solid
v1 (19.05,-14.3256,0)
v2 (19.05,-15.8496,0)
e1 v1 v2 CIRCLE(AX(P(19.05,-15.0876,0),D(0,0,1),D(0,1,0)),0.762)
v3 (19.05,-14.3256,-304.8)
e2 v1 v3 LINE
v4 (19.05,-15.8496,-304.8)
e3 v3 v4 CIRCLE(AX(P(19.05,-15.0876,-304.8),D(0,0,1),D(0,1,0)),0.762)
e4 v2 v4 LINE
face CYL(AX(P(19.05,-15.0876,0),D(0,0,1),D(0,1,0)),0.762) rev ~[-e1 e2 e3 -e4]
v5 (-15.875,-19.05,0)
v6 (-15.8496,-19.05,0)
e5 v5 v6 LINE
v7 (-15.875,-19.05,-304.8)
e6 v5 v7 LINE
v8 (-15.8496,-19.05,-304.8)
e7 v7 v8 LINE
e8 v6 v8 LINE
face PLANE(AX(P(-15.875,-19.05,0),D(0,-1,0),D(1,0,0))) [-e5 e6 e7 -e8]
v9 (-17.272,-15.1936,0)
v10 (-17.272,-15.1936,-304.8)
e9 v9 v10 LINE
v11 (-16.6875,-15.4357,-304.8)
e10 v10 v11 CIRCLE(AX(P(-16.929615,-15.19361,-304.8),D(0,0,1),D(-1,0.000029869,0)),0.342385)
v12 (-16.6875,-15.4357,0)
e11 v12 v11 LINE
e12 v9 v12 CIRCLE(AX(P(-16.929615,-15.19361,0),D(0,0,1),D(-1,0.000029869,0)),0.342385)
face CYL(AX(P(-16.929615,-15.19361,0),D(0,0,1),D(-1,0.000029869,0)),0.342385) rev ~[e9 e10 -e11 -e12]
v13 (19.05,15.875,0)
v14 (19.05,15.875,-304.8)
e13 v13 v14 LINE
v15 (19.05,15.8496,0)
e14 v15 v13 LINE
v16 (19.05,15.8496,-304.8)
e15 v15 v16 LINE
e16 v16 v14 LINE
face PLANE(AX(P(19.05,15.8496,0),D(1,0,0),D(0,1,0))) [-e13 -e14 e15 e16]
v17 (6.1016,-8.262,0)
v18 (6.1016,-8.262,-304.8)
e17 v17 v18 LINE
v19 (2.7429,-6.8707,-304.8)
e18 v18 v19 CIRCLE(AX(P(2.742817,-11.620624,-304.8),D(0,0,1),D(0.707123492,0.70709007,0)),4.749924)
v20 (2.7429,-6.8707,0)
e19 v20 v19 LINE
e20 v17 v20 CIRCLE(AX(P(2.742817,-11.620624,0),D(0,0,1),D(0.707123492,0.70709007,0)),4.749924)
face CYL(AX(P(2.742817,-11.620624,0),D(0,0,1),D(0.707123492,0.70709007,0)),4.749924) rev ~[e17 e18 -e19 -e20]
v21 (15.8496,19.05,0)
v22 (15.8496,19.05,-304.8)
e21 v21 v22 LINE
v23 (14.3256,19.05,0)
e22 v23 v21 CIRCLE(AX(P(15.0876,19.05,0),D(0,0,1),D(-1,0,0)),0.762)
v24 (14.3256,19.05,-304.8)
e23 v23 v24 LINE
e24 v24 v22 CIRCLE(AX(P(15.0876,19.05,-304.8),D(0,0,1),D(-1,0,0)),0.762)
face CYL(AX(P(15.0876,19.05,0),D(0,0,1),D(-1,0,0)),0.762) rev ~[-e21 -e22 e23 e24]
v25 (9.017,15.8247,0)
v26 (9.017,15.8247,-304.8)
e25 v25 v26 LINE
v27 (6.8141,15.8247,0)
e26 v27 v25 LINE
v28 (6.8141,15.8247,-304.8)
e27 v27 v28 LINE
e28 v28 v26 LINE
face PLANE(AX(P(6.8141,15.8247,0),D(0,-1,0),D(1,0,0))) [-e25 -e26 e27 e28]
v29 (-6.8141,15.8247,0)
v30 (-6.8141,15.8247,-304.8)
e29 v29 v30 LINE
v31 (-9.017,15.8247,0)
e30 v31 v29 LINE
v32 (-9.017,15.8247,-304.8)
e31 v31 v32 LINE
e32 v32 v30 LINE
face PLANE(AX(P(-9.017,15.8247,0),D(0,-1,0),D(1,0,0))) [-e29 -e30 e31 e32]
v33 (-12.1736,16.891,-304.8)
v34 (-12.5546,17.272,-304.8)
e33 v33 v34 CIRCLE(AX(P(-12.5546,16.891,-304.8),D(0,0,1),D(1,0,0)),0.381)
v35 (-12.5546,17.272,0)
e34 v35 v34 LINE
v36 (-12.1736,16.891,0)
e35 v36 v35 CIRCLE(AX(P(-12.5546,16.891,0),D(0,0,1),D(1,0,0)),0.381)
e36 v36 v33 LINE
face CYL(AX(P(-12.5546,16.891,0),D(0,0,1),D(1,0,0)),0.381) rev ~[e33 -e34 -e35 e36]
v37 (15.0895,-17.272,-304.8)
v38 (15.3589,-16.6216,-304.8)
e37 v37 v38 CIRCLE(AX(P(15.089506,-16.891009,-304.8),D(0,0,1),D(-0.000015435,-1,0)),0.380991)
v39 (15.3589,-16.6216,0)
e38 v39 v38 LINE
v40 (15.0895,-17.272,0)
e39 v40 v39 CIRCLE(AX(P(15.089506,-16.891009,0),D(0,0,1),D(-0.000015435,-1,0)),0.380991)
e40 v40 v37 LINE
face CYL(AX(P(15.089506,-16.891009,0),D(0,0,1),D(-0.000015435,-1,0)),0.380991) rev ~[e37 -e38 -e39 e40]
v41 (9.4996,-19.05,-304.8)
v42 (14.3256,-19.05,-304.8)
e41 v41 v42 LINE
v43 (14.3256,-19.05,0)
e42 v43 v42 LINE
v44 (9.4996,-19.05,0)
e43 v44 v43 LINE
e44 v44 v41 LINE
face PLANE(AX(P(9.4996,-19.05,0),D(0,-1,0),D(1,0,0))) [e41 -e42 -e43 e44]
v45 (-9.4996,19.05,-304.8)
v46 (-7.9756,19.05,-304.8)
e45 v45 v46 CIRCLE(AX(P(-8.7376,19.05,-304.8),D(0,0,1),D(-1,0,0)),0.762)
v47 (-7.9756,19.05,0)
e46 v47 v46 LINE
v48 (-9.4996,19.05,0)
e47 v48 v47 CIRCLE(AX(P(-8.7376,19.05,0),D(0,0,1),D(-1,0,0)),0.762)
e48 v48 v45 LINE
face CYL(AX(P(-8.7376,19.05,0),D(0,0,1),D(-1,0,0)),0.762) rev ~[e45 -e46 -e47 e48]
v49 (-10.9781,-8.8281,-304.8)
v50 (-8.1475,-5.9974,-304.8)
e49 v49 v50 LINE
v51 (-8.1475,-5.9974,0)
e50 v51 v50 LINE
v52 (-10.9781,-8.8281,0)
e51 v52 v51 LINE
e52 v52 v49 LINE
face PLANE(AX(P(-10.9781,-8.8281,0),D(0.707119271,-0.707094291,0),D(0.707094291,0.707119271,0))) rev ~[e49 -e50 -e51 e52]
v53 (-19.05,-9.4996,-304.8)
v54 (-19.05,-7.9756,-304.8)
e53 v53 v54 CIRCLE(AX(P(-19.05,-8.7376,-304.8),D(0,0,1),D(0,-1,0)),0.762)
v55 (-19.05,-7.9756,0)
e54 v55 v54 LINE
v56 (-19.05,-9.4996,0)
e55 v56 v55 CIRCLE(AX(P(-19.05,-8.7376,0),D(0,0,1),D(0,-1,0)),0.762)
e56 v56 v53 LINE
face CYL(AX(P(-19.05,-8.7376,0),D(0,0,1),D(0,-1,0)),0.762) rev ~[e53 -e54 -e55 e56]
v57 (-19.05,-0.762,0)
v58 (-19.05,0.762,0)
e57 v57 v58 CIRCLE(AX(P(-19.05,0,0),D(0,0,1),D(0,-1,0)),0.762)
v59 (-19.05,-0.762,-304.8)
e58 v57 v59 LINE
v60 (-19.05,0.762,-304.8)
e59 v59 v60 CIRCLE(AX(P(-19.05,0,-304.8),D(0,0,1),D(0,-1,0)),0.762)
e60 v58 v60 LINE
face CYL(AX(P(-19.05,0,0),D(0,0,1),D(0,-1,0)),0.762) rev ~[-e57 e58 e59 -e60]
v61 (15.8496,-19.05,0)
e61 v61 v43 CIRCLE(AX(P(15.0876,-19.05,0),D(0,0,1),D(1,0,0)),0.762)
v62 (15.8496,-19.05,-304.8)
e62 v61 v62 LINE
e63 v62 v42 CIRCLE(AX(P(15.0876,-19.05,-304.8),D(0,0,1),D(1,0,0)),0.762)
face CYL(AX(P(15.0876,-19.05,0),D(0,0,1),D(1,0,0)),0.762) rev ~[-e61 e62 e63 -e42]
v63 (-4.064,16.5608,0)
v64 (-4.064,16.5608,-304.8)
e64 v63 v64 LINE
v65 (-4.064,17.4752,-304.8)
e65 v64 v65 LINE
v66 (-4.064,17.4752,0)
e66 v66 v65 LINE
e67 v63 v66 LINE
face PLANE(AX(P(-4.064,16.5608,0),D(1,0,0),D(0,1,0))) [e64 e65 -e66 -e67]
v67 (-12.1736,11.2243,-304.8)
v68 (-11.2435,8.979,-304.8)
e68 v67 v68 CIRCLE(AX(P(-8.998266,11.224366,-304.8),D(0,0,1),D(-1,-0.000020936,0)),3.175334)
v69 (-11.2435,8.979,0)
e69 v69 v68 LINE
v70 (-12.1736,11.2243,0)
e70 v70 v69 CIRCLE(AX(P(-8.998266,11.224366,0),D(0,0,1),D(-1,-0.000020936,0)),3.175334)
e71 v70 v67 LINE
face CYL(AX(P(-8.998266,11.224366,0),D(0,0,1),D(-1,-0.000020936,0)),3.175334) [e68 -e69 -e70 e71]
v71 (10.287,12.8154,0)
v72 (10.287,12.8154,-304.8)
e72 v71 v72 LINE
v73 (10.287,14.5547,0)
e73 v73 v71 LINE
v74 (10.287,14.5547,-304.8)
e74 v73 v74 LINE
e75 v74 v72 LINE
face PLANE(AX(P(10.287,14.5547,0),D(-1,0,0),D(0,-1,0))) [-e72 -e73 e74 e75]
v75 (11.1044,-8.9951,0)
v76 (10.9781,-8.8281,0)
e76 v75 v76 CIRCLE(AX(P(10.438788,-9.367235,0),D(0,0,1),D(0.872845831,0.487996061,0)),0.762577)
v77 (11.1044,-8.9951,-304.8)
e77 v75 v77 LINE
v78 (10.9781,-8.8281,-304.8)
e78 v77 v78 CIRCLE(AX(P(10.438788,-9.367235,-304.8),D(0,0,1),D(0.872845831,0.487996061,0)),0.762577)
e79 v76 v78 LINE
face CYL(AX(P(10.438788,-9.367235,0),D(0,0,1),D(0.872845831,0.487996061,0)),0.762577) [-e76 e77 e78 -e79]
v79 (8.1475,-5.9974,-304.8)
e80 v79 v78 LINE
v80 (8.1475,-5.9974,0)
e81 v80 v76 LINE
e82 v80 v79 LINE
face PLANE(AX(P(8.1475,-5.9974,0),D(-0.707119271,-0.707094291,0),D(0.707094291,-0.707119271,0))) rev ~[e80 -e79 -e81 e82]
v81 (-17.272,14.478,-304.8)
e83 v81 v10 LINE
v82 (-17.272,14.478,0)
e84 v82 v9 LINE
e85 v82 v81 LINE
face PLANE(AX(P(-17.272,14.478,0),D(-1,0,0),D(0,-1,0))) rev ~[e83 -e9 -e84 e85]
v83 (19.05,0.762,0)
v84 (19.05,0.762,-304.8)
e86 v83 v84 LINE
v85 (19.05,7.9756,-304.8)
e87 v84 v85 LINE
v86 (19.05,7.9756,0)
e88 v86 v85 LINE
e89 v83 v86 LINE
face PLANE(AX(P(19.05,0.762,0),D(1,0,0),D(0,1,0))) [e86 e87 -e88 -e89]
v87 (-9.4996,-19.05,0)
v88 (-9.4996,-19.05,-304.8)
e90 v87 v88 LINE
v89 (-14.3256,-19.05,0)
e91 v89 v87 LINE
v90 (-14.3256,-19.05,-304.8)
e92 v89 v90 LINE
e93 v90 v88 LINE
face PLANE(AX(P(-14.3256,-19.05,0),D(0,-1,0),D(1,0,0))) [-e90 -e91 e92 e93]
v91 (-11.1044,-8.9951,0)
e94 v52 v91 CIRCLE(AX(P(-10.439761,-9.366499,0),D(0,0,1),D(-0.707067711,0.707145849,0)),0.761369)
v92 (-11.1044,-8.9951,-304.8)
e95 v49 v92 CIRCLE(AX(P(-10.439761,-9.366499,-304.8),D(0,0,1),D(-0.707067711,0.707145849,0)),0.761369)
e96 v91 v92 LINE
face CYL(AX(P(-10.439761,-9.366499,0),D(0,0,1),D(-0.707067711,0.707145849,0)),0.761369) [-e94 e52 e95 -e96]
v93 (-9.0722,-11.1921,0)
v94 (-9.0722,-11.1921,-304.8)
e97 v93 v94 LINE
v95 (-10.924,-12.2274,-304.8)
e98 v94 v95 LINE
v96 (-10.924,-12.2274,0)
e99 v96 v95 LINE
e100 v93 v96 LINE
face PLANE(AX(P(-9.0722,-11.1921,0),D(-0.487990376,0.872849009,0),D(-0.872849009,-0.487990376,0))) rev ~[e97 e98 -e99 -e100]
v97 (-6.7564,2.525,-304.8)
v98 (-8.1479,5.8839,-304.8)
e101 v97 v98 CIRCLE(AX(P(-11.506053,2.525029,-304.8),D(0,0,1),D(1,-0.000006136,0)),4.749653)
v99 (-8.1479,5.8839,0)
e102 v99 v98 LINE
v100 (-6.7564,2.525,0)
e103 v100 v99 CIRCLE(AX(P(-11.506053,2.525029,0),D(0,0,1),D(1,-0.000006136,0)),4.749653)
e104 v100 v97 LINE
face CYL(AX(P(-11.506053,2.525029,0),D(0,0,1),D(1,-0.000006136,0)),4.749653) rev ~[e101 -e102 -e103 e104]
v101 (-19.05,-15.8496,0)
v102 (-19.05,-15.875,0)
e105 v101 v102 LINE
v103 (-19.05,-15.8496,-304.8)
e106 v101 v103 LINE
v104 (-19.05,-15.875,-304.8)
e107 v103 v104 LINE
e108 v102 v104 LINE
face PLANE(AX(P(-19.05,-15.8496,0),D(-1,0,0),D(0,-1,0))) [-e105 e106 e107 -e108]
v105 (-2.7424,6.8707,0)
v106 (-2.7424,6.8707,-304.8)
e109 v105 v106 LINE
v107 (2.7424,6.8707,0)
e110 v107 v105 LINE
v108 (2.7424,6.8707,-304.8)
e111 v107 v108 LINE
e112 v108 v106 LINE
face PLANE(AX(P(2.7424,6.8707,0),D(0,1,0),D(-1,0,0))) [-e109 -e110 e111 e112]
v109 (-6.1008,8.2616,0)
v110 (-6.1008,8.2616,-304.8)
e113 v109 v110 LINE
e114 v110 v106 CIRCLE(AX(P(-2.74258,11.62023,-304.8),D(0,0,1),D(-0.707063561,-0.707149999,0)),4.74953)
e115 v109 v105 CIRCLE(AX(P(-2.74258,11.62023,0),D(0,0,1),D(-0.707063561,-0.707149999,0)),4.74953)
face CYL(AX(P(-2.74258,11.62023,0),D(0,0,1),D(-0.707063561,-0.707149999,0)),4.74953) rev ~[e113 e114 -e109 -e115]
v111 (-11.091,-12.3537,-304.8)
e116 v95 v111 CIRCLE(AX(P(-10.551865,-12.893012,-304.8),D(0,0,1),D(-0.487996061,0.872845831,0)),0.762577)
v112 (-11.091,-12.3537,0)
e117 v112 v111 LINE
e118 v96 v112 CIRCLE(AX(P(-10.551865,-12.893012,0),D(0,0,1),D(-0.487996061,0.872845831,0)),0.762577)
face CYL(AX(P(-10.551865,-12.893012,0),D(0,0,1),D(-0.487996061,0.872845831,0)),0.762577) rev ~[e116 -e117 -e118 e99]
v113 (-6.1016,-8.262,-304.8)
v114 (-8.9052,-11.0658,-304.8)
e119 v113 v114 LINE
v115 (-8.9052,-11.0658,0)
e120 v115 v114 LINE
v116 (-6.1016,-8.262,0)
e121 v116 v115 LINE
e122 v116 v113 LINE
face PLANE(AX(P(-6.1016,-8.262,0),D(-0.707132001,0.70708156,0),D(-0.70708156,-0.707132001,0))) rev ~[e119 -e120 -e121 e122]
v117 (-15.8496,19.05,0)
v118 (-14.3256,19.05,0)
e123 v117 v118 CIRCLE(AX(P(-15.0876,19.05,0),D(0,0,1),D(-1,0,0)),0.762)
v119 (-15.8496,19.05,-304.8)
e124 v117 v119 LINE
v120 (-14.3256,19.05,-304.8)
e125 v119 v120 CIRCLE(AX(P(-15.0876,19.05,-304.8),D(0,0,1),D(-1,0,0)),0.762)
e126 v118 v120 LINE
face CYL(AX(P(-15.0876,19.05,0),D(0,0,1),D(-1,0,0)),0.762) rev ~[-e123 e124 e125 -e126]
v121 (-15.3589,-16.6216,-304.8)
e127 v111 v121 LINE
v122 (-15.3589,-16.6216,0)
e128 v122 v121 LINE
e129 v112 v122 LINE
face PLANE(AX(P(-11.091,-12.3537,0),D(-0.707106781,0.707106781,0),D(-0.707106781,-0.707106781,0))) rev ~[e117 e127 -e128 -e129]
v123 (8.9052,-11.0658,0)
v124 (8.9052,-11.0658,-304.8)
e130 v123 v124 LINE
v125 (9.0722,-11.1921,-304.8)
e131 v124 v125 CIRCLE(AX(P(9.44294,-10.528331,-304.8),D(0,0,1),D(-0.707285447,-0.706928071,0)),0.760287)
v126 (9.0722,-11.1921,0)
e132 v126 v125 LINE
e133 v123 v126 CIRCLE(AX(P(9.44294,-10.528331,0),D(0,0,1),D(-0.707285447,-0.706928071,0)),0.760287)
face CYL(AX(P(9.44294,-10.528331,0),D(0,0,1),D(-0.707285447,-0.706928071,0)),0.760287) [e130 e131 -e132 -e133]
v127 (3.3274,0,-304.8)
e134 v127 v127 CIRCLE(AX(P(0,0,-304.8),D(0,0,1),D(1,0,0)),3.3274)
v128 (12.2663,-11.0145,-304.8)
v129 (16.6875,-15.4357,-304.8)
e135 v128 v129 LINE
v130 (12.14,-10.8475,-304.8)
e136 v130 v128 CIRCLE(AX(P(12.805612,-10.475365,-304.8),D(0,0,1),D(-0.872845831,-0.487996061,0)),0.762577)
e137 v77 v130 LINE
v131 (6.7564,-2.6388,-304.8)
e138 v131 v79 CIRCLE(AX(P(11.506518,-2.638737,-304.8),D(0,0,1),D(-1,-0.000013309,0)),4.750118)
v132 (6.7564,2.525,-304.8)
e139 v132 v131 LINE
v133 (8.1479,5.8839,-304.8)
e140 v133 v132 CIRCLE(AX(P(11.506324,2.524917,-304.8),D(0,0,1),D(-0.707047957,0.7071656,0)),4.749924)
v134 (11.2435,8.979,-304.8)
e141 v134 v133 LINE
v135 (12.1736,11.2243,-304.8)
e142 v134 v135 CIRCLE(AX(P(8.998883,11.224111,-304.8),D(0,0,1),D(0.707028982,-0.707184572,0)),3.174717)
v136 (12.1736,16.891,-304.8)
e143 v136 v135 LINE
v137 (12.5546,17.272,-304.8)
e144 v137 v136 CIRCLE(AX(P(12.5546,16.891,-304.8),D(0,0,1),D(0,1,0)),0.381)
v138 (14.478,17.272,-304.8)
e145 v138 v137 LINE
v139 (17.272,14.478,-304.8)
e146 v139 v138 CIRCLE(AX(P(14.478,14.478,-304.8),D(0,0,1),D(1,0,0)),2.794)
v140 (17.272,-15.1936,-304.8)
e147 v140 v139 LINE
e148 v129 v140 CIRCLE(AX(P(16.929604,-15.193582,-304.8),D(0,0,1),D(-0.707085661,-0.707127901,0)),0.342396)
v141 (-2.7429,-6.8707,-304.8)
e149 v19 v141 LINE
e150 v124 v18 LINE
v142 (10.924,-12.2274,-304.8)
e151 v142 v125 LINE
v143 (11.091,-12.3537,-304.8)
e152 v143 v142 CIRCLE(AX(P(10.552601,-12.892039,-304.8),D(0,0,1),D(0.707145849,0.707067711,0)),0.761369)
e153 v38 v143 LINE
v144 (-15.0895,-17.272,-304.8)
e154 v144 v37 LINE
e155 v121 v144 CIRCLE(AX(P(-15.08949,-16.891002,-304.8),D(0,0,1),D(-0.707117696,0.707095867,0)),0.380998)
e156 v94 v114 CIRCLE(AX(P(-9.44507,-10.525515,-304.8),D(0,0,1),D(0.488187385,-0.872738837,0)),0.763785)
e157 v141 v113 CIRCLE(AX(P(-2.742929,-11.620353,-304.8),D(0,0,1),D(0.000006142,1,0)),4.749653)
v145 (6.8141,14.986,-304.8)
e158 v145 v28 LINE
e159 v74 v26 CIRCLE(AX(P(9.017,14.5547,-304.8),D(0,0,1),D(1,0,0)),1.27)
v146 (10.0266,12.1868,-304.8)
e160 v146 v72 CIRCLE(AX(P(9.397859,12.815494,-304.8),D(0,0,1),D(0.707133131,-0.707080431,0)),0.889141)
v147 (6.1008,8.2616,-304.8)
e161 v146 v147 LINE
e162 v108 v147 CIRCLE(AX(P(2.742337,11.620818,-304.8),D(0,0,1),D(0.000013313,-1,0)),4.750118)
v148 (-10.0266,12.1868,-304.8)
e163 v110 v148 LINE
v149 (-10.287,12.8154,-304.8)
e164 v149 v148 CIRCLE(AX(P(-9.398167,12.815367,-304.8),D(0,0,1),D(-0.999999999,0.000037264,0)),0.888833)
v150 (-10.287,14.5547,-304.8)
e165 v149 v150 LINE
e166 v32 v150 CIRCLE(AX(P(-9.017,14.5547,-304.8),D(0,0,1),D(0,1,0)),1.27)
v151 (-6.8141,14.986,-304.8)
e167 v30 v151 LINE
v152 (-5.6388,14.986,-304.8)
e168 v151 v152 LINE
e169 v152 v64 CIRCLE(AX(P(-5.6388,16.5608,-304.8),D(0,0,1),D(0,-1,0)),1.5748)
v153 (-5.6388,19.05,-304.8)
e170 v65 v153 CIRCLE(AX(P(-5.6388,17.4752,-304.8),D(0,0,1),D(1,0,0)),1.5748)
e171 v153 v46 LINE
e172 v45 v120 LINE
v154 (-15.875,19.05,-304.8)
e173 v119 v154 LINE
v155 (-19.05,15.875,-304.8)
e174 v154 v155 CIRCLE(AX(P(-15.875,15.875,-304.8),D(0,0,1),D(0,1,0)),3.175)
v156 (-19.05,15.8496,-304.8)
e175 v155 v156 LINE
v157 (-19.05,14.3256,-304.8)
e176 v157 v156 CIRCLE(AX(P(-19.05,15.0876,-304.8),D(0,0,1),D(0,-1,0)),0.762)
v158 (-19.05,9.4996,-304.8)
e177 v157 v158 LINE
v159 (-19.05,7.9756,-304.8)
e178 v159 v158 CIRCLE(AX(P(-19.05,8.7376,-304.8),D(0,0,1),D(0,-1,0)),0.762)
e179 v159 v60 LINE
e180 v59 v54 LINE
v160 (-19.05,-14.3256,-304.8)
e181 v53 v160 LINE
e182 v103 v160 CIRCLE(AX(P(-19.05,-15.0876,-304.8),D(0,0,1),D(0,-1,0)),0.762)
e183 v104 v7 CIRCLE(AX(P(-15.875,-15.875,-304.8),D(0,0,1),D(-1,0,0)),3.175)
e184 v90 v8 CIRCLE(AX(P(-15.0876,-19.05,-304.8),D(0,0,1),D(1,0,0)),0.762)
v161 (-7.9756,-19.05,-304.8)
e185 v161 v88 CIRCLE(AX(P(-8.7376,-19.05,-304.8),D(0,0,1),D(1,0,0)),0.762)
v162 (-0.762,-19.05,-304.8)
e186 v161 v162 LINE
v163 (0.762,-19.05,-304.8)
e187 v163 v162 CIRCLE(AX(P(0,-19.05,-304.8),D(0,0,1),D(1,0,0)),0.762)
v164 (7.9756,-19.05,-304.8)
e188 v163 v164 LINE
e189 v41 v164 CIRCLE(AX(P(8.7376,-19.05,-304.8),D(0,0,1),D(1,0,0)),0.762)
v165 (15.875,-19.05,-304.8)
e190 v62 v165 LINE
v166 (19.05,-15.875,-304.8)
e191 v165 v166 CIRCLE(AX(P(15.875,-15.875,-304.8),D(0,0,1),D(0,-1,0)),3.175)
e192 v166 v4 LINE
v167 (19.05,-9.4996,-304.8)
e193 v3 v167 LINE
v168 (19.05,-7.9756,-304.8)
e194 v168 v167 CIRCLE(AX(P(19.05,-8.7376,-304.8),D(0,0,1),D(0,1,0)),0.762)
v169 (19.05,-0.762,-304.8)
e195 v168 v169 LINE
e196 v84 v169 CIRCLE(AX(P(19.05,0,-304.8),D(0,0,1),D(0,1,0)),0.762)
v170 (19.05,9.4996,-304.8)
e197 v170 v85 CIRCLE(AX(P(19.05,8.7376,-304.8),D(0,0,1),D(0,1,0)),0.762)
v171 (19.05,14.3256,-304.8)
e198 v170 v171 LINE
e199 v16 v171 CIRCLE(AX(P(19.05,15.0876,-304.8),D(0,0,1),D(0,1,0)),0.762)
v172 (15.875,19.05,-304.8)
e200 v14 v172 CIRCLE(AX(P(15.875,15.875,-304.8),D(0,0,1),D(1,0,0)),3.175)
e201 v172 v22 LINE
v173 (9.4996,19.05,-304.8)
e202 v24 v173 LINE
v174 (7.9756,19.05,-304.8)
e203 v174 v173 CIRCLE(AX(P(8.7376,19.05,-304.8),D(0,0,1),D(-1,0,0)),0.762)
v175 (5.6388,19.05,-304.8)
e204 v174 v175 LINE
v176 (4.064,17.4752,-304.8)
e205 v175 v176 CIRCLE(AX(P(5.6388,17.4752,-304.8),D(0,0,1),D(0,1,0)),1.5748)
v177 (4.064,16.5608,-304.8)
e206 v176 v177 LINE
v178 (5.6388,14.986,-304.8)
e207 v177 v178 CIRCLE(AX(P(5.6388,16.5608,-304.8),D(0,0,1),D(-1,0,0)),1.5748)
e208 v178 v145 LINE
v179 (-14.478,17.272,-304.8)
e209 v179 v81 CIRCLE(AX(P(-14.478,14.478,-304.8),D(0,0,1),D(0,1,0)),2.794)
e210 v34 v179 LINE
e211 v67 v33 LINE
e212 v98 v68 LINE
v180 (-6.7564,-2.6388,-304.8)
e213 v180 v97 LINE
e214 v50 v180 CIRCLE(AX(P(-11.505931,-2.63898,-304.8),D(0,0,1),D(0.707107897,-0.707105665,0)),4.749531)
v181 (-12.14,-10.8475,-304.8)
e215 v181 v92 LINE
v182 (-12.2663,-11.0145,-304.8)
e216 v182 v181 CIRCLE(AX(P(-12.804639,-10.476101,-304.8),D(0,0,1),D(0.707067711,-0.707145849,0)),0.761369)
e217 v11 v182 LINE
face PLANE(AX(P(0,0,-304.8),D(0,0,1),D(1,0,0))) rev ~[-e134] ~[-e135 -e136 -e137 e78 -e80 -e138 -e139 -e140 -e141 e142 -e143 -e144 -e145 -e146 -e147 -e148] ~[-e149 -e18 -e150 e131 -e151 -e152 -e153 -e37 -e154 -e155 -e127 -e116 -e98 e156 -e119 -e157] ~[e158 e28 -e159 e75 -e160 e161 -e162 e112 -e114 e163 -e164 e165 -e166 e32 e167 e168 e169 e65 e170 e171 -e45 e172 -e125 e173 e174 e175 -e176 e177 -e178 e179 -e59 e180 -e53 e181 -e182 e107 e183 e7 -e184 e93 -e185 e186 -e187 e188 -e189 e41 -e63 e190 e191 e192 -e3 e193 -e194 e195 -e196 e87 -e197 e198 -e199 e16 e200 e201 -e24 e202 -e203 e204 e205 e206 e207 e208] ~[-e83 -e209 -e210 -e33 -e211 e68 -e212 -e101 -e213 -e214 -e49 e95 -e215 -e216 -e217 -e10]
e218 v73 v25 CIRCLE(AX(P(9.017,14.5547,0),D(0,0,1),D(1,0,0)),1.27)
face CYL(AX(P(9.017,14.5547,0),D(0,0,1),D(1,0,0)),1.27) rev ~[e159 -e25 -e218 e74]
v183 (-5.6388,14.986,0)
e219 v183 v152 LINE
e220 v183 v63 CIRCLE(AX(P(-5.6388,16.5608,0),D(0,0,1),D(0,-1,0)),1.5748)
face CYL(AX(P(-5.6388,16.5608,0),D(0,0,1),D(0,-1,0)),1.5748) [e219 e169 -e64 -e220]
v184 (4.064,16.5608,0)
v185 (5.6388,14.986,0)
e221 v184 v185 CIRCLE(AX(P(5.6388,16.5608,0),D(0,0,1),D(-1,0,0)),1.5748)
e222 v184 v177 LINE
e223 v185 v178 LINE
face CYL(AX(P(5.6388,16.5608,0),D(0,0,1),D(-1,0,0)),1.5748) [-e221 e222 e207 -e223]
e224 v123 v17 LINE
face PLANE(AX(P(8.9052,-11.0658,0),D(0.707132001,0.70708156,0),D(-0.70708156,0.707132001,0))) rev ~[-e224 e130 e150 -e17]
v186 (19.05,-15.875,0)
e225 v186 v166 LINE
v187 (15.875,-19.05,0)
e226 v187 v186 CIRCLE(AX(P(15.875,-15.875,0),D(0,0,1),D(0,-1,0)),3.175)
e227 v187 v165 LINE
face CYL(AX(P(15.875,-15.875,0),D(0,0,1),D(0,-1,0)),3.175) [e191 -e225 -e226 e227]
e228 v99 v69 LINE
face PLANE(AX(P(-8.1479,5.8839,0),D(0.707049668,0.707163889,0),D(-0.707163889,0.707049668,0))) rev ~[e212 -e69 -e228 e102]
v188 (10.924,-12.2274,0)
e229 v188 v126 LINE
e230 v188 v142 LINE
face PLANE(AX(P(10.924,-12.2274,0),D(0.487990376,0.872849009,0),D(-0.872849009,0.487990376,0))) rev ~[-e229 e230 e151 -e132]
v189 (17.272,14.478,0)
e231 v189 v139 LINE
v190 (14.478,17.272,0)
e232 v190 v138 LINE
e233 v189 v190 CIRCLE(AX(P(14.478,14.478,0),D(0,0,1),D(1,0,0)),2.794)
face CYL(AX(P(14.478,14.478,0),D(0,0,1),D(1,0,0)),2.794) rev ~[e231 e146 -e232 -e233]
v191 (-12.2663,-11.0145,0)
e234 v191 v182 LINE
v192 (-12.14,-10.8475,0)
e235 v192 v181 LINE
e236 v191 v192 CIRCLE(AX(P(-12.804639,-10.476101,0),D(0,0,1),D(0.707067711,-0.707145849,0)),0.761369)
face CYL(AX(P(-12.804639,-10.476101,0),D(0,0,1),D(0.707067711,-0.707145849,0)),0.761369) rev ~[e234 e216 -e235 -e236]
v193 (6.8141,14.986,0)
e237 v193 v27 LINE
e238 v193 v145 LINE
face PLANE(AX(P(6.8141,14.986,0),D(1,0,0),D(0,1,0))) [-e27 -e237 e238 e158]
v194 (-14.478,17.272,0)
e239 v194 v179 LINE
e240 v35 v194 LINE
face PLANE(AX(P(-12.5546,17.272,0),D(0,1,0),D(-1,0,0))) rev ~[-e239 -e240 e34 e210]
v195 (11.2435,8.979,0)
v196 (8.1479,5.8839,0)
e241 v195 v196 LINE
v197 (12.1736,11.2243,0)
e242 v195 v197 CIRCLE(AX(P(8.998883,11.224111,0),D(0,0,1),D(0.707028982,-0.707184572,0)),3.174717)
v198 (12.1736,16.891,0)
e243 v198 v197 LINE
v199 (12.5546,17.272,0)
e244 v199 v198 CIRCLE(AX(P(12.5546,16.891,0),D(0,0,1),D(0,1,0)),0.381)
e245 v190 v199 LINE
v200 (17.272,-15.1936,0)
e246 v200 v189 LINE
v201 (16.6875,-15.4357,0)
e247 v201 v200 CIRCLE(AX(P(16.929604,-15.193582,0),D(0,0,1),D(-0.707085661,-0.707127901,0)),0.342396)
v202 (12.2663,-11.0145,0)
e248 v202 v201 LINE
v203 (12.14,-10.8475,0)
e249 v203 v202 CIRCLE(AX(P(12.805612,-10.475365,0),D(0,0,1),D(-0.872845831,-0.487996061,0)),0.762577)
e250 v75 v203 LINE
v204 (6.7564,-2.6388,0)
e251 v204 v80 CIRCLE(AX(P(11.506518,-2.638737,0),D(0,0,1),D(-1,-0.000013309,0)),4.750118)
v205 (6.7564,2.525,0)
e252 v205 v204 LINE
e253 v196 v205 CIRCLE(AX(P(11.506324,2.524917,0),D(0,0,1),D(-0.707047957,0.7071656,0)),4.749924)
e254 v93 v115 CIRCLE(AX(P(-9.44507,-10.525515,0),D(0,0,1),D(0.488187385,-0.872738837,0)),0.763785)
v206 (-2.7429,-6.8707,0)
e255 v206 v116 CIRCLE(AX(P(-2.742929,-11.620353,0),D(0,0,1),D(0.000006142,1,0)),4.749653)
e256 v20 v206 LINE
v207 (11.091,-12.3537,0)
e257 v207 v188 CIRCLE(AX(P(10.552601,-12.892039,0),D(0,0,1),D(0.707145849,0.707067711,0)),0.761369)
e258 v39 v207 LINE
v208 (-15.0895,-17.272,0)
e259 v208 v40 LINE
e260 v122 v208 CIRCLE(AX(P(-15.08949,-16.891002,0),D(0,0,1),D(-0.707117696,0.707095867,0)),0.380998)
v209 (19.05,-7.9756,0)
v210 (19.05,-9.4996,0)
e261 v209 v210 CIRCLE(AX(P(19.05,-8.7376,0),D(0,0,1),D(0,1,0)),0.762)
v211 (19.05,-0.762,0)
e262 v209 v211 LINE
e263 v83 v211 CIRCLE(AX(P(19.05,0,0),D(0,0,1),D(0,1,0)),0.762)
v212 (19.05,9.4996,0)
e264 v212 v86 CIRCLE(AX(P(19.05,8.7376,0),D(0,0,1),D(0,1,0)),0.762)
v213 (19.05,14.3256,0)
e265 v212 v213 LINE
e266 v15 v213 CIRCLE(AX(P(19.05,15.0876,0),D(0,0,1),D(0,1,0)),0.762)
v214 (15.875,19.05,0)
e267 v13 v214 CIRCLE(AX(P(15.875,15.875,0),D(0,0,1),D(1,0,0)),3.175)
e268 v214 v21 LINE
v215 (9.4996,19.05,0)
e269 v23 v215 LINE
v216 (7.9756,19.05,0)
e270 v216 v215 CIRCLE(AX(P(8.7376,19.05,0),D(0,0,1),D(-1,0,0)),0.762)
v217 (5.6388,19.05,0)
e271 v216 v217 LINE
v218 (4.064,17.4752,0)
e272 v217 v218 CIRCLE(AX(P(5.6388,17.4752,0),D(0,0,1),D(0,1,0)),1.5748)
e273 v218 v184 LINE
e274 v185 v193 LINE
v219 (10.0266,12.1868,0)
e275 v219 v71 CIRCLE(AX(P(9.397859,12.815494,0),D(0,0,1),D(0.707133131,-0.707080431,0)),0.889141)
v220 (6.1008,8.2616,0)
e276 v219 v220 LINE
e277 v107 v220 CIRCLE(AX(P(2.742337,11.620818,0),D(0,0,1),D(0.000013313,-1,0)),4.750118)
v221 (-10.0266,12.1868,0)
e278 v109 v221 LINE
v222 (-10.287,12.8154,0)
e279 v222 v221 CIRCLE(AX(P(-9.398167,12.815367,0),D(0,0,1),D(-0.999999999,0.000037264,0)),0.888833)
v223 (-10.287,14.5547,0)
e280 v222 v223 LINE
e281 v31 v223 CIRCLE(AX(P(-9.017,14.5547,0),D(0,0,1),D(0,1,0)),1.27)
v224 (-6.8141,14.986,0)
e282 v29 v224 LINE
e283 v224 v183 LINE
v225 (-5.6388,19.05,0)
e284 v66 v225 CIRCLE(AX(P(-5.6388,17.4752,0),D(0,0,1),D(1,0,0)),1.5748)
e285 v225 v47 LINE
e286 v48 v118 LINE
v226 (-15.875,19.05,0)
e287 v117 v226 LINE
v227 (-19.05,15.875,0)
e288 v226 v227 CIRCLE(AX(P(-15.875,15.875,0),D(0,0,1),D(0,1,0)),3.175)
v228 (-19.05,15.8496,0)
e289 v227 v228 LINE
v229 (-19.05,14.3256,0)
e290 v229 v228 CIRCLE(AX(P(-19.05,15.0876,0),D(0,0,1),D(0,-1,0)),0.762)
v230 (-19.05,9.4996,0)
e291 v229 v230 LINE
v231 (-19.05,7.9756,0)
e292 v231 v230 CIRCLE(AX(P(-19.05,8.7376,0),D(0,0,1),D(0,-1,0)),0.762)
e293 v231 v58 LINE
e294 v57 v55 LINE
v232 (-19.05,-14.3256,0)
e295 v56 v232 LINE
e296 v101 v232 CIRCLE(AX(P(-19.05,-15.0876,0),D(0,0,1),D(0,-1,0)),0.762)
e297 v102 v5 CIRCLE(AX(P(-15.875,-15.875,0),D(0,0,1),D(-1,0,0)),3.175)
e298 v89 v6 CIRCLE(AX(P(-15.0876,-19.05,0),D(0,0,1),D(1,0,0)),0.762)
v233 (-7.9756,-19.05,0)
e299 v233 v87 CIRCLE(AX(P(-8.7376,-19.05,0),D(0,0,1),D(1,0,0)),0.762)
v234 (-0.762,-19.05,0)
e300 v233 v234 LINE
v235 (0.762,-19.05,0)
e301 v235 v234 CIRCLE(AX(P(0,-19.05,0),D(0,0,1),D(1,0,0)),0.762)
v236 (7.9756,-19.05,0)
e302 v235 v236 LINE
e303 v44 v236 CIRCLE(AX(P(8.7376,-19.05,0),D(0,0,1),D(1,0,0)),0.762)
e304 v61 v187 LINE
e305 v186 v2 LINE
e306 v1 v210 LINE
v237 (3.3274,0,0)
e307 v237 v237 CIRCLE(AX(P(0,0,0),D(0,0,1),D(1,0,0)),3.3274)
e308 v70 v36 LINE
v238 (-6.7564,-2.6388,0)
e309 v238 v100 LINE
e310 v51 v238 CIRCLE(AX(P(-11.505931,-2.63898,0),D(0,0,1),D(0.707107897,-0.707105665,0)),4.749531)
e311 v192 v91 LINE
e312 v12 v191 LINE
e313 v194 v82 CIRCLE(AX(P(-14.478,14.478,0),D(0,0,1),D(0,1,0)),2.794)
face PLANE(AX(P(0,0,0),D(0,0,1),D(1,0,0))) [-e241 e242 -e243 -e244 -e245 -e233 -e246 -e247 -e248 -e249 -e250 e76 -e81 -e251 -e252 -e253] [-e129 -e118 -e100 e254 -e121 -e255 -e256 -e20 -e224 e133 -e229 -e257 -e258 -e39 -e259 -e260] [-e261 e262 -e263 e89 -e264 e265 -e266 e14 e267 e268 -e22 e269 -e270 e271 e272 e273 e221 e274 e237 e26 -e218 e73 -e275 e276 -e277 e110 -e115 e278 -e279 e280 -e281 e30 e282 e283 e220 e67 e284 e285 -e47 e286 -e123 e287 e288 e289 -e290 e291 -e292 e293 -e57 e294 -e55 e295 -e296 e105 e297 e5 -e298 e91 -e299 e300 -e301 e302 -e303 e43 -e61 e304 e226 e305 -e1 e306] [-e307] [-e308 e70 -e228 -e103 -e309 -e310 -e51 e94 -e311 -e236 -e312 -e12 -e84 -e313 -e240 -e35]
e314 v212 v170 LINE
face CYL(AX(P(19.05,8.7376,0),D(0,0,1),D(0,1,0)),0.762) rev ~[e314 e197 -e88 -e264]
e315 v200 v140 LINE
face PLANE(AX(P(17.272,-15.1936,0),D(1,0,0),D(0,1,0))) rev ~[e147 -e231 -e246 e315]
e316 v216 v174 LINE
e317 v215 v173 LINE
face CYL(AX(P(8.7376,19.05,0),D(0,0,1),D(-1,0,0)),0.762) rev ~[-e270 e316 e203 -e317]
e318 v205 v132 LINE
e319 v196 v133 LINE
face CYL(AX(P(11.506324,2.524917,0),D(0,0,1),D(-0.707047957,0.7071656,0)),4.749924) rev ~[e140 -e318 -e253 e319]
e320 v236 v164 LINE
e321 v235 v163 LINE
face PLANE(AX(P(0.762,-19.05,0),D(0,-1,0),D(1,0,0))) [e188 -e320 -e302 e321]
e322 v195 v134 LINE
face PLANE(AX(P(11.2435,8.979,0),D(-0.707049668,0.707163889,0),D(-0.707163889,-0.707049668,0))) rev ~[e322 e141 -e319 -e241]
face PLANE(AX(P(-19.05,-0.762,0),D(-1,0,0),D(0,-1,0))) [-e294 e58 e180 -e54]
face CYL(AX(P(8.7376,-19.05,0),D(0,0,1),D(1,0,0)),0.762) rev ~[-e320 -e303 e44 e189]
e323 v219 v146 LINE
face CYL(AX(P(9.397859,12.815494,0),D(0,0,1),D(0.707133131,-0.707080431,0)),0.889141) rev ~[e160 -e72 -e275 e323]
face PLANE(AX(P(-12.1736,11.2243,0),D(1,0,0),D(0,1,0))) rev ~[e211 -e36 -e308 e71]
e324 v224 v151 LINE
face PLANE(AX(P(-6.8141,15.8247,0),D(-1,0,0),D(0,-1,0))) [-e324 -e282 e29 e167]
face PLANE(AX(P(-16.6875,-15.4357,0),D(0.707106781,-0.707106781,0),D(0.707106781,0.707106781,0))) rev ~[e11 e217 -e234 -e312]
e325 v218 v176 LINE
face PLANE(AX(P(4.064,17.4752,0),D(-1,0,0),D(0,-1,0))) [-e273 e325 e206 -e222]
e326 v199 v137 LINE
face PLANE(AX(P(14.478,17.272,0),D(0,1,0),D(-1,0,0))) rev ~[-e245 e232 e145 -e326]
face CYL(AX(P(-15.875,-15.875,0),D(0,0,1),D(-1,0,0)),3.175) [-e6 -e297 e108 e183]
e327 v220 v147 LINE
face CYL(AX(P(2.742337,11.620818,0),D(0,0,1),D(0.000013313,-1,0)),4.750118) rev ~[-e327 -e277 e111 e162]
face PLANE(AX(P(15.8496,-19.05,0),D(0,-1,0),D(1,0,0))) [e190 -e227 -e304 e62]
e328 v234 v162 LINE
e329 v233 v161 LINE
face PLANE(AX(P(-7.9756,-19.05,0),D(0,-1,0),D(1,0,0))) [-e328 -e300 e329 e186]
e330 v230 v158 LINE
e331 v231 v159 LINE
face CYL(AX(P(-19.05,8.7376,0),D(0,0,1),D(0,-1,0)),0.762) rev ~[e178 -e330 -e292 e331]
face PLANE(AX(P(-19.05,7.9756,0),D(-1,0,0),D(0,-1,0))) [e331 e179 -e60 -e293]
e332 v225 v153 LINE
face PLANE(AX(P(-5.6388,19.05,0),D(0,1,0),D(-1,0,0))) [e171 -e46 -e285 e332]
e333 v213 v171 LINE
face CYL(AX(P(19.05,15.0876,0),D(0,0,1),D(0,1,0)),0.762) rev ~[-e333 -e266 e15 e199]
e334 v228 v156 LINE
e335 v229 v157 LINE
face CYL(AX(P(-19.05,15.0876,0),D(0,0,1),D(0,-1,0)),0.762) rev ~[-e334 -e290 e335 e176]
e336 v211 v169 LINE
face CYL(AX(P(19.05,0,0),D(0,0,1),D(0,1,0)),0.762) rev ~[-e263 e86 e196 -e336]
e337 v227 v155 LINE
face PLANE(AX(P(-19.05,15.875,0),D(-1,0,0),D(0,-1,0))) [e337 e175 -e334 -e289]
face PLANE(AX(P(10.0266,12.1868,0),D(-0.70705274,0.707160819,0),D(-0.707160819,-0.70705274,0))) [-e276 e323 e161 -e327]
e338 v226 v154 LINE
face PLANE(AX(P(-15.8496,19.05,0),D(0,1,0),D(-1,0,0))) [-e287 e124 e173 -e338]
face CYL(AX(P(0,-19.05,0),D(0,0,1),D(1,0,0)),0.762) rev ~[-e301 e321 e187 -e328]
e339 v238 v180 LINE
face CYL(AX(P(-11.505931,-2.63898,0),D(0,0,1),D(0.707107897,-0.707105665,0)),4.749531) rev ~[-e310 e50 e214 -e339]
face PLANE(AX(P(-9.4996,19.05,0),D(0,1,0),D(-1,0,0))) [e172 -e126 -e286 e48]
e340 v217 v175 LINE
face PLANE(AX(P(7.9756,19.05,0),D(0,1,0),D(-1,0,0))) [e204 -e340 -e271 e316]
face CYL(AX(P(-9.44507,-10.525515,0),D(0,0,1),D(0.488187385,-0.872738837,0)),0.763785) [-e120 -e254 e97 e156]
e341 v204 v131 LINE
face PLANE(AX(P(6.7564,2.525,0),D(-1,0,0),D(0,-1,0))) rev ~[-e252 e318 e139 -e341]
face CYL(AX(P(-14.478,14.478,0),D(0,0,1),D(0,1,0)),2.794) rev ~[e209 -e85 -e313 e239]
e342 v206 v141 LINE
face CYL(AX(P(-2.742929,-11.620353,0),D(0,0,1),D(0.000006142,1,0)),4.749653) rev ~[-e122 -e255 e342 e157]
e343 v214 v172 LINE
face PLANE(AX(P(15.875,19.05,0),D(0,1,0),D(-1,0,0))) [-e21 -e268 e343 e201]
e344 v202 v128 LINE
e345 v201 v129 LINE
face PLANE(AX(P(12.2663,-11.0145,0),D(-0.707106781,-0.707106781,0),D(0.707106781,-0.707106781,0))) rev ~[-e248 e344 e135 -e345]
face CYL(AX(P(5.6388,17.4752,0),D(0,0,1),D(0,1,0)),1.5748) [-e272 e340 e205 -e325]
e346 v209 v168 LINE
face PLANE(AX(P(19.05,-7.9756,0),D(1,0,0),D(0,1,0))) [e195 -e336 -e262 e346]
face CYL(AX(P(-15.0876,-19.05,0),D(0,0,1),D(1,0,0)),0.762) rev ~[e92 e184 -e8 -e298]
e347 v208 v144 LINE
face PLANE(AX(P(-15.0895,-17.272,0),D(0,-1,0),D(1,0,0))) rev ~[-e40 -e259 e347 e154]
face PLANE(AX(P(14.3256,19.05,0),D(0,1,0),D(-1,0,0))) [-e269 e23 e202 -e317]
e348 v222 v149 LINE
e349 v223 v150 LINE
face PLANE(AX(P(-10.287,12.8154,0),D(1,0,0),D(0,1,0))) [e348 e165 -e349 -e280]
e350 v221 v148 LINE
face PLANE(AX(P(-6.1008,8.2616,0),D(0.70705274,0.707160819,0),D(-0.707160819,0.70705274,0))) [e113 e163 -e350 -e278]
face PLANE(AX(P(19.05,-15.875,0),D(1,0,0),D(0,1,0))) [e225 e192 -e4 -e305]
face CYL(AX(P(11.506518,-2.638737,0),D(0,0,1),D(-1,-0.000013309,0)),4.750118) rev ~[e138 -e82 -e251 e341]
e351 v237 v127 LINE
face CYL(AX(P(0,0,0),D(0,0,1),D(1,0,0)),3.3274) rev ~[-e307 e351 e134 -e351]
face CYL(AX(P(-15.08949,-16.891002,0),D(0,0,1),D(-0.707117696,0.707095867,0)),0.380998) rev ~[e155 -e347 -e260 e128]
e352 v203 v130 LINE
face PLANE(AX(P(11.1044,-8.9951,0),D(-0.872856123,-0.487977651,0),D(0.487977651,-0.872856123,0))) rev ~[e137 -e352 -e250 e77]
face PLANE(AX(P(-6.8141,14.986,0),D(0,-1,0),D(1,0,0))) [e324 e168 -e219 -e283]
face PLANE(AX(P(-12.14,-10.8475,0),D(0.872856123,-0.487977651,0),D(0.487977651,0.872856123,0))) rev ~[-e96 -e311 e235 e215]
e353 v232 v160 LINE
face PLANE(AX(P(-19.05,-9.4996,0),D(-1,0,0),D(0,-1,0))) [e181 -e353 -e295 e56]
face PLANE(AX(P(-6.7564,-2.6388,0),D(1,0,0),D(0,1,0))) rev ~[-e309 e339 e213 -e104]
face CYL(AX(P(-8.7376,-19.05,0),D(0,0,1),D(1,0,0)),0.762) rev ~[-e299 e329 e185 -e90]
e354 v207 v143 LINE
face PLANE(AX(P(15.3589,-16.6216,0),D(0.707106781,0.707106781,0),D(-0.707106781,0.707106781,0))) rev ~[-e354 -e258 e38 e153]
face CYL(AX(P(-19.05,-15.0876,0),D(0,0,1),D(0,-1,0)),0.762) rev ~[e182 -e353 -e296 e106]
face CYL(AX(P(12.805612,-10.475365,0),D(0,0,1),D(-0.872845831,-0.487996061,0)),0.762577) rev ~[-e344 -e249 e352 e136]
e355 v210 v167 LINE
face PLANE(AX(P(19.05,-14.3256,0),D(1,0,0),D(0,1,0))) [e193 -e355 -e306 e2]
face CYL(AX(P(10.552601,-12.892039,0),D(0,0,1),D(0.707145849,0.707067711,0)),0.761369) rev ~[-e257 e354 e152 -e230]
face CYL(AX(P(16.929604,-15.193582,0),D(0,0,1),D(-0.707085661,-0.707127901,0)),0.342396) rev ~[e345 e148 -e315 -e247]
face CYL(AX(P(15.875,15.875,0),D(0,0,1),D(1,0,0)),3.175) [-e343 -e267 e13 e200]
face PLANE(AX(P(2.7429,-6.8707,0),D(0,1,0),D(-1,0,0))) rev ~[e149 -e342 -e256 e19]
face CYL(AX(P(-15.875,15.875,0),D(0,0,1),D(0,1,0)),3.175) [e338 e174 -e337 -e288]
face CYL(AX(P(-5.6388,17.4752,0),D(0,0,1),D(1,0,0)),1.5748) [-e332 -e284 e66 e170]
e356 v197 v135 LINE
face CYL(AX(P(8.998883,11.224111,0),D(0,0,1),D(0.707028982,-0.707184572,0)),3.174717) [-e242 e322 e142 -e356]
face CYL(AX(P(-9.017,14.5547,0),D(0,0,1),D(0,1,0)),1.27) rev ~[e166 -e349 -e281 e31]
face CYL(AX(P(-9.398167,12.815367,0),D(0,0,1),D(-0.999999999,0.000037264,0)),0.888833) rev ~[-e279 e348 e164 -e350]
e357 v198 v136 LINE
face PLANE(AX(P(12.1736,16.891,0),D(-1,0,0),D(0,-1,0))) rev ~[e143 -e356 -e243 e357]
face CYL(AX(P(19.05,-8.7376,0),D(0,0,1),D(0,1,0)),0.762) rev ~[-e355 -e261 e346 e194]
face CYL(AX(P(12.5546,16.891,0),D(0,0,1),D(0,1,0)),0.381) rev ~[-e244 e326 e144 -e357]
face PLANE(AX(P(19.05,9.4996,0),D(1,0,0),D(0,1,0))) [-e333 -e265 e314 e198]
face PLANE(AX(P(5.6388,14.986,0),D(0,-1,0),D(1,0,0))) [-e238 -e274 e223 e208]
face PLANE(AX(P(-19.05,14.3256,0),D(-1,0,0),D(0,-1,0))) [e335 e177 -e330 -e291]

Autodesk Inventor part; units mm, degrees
ref_plane "YZ Plane" through (0, 0, 0) normal (1, 0, 0) x (0, 1, 0)
ref_plane "XZ Plane" through (0, 0, 0) normal (0, 1, 0) x (-1, 0, 0)
ref_plane "XY Plane" through (0, 0, 0) normal (0, 0, 1) x (1, 0, 0)
sketch "Sketch1" plane through (0, 0, 0) normal (0, 0, 1) x (1, 0, 0)
  arc A0 (11.091, -12.3537) -> (10.924, -12.2274) centre (10.5522, -12.8925) ccw
  line L0 (15.3589, -16.6216) -> (11.091, -12.3537)
  arc A1 (15.0895, -17.272) -> (15.3589, -16.6216) centre (15.0895, -16.891) ccw
  line L1 (-15.0895, -17.272) -> (15.0895, -17.272)
  arc A2 (-15.3589, -16.6216) -> (-15.0895, -17.272) centre (-15.0895, -16.891) ccw
  line L2 (-11.091, -12.3537) -> (-15.3589, -16.6216)
  arc A3 (-10.924, -12.2274) -> (-11.091, -12.3537) centre (-10.5522, -12.8925) ccw
  line L3 (-9.0722, -11.1921) -> (-10.924, -12.2274)
  arc A4 (-9.0722, -11.1921) -> (-8.9052, -11.0658) centre (-9.4441, -10.527) ccw
  line L4 (-6.1016, -8.262) -> (-8.9052, -11.0658)
  arc A5 (-2.7429, -6.8707) -> (-6.1016, -8.262) centre (-2.7429, -11.6205) ccw
  line L5 (2.7429, -6.8707) -> (-2.7429, -6.8707)
  arc A6 (6.1016, -8.262) -> (2.7429, -6.8707) centre (2.7429, -11.6205) ccw
  line L6 (8.9052, -11.0658) -> (6.1016, -8.262)
  arc A7 (8.9052, -11.0658) -> (9.0722, -11.1921) centre (9.4441, -10.527) ccw
  line L7 (10.924, -12.2274) -> (9.0722, -11.1921)
  arc A8 (-12.1736, 16.891) -> (-12.5546, 17.272) centre (-12.5546, 16.891) ccw
  line L8 (-12.1736, 11.2243) -> (-12.1736, 16.891)
  arc A9 (-12.1736, 11.2243) -> (-11.2435, 8.979) centre (-8.9986, 11.2243) ccw
  line L9 (-8.1479, 5.8839) -> (-11.2435, 8.979)
  arc A10 (-6.7564, 2.525) -> (-8.1479, 5.8839) centre (-11.5062, 2.525) ccw
  line L10 (-6.7564, -2.6388) -> (-6.7564, 2.525)
  arc A11 (-8.1475, -5.9974) -> (-6.7564, -2.6388) centre (-11.5062, -2.6388) ccw
  line L11 (-10.9781, -8.8281) -> (-8.1475, -5.9974)
  arc A12 (-10.9781, -8.8281) -> (-11.1044, -8.9951) centre (-10.4393, -9.3669) ccw
  line L12 (-12.14, -10.8475) -> (-11.1044, -8.9951)
  arc A13 (-12.2663, -11.0145) -> (-12.14, -10.8475) centre (-12.8051, -10.4757) ccw
  line L13 (-16.6875, -15.4357) -> (-12.2663, -11.0145)
  arc A14 (-17.272, -15.1936) -> (-16.6875, -15.4357) centre (-16.9296, -15.1936) ccw
  line L14 (-17.272, 14.478) -> (-17.272, -15.1936)
  arc A15 (-14.478, 17.272) -> (-17.272, 14.478) centre (-14.478, 14.478) ccw
  line L15 (-12.5546, 17.272) -> (-14.478, 17.272)
  arc A16 (17.272, 14.478) -> (14.478, 17.272) centre (14.478, 14.478) ccw
  line L16 (17.272, -15.1936) -> (17.272, 14.478)
  arc A17 (16.6875, -15.4357) -> (17.272, -15.1936) centre (16.9296, -15.1936) ccw
  line L17 (12.2663, -11.0145) -> (16.6875, -15.4357)
  arc A18 (12.14, -10.8475) -> (12.2663, -11.0145) centre (12.8051, -10.4757) ccw
  line L18 (11.1044, -8.9951) -> (12.14, -10.8475)
  arc A19 (11.1044, -8.9951) -> (10.9781, -8.8281) centre (10.4393, -9.3669) ccw
  line L19 (8.1475, -5.9974) -> (10.9781, -8.8281)
  arc A20 (6.7564, -2.6388) -> (8.1475, -5.9974) centre (11.5062, -2.6388) ccw
  line L20 (6.7564, 2.525) -> (6.7564, -2.6388)
  arc A21 (8.1479, 5.8839) -> (6.7564, 2.525) centre (11.5062, 2.525) ccw
  line L21 (11.2435, 8.979) -> (8.1479, 5.8839)
  arc A22 (11.2435, 8.979) -> (12.1736, 11.2243) centre (8.9986, 11.2243) ccw
  line L22 (12.1736, 16.891) -> (12.1736, 11.2243)
  arc A23 (12.5546, 17.272) -> (12.1736, 16.891) centre (12.5546, 16.891) ccw
  line L23 (14.478, 17.272) -> (12.5546, 17.272)
  circle A24 centre (0, 0) radius 3.3274
  line L24 (6.8141, 14.986) -> (6.8141, 15.8247)
  line L25 (6.8141, 15.8247) -> (9.017, 15.8247)
  arc A25 (10.287, 14.5547) -> (9.017, 15.8247) centre (9.017, 14.5547) ccw
  line L26 (10.287, 14.5547) -> (10.287, 12.8154)
  arc A26 (10.0266, 12.1868) -> (10.287, 12.8154) centre (9.398, 12.8154) ccw
  line L27 (10.0266, 12.1868) -> (6.1008, 8.2616)
  arc A27 (2.7424, 6.8707) -> (6.1008, 8.2616) centre (2.7424, 11.6205) ccw
  line L28 (2.7424, 6.8707) -> (-2.7424, 6.8707)
  arc A28 (-6.1008, 8.2616) -> (-2.7424, 6.8707) centre (-2.7424, 11.6205) ccw
  line L29 (-6.1008, 8.2616) -> (-10.0266, 12.1868)
  arc A29 (-10.287, 12.8154) -> (-10.0266, 12.1868) centre (-9.398, 12.8154) ccw
  line L30 (-10.287, 12.8154) -> (-10.287, 14.5547)
  arc A30 (-9.017, 15.8247) -> (-10.287, 14.5547) centre (-9.017, 14.5547) ccw
  line L31 (-9.017, 15.8247) -> (-6.8141, 15.8247)
  line L32 (-6.8141, 15.8247) -> (-6.8141, 14.986)
  line L33 (-6.8141, 14.986) -> (-5.6388, 14.986)
  arc A31 (-5.6388, 14.986) -> (-4.064, 16.5608) centre (-5.6388, 16.5608) ccw
  line L34 (-4.064, 16.5608) -> (-4.064, 17.4752)
  arc A32 (-4.064, 17.4752) -> (-5.6388, 19.05) centre (-5.6388, 17.4752) ccw
  line L35 (-5.6388, 19.05) -> (-7.9756, 19.05)
  arc A33 (-9.4996, 19.05) -> (-7.9756, 19.05) centre (-8.7376, 19.05) ccw
  line L36 (-9.4996, 19.05) -> (-14.3256, 19.05)
  arc A34 (-15.8496, 19.05) -> (-14.3256, 19.05) centre (-15.0876, 19.05) ccw
  line L37 (-15.8496, 19.05) -> (-15.875, 19.05)
  arc A35 (-15.875, 19.05) -> (-19.05, 15.875) centre (-15.875, 15.875) ccw
  line L38 (-19.05, 15.875) -> (-19.05, 15.8496)
  arc A36 (-19.05, 14.3256) -> (-19.05, 15.8496) centre (-19.05, 15.0876) ccw
  line L39 (-19.05, 14.3256) -> (-19.05, 9.4996)
  arc A37 (-19.05, 7.9756) -> (-19.05, 9.4996) centre (-19.05, 8.7376) ccw
  line L40 (-19.05, 7.9756) -> (-19.05, 0.762)
  arc A38 (-19.05, -0.762) -> (-19.05, 0.762) centre (-19.05, 0) ccw
  line L41 (-19.05, -0.762) -> (-19.05, -7.9756)
  arc A39 (-19.05, -9.4996) -> (-19.05, -7.9756) centre (-19.05, -8.7376) ccw
  line L42 (-19.05, -9.4996) -> (-19.05, -14.3256)
  arc A40 (-19.05, -15.8496) -> (-19.05, -14.3256) centre (-19.05, -15.0876) ccw
  line L43 (-19.05, -15.8496) -> (-19.05, -15.875)
  arc A41 (-19.05, -15.875) -> (-15.875, -19.05) centre (-15.875, -15.875) ccw
  line L44 (-15.875, -19.05) -> (-15.8496, -19.05)
  arc A42 (-14.3256, -19.05) -> (-15.8496, -19.05) centre (-15.0876, -19.05) ccw
  line L45 (-14.3256, -19.05) -> (-9.4996, -19.05)
  arc A43 (-7.9756, -19.05) -> (-9.4996, -19.05) centre (-8.7376, -19.05) ccw
  line L46 (-7.9756, -19.05) -> (-0.762, -19.05)
  arc A44 (0.762, -19.05) -> (-0.762, -19.05) centre (0, -19.05) ccw
  line L47 (0.762, -19.05) -> (7.9756, -19.05)
  arc A45 (9.4996, -19.05) -> (7.9756, -19.05) centre (8.7376, -19.05) ccw
  line L48 (9.4996, -19.05) -> (14.3256, -19.05)
  arc A46 (15.8496, -19.05) -> (14.3256, -19.05) centre (15.0876, -19.05) ccw
  line L49 (15.8496, -19.05) -> (15.875, -19.05)
  arc A47 (15.875, -19.05) -> (19.05, -15.875) centre (15.875, -15.875) ccw
  line L50 (19.05, -15.875) -> (19.05, -15.8496)
  arc A48 (19.05, -14.3256) -> (19.05, -15.8496) centre (19.05, -15.0876) ccw
  line L51 (19.05, -14.3256) -> (19.05, -9.4996)
  arc A49 (19.05, -7.9756) -> (19.05, -9.4996) centre (19.05, -8.7376) ccw
  line L52 (19.05, -7.9756) -> (19.05, -0.762)
  arc A50 (19.05, 0.762) -> (19.05, -0.762) centre (19.05, 0) ccw
  line L53 (19.05, 0.762) -> (19.05, 7.9756)
  arc A51 (19.05, 9.4996) -> (19.05, 7.9756) centre (19.05, 8.7376) ccw
  line L54 (19.05, 9.4996) -> (19.05, 14.3256)
  arc A52 (19.05, 15.8496) -> (19.05, 14.3256) centre (19.05, 15.0876) ccw
  line L55 (19.05, 15.8496) -> (19.05, 15.875)
  arc A53 (19.05, 15.875) -> (15.875, 19.05) centre (15.875, 15.875) ccw
  line L56 (15.875, 19.05) -> (15.8496, 19.05)
  arc A54 (14.3256, 19.05) -> (15.8496, 19.05) centre (15.0876, 19.05) ccw
  line L57 (14.3256, 19.05) -> (9.4996, 19.05)
  arc A55 (7.9756, 19.05) -> (9.4996, 19.05) centre (8.7376, 19.05) ccw
  line L58 (7.9756, 19.05) -> (5.6388, 19.05)
  arc A56 (5.6388, 19.05) -> (4.064, 17.4752) centre (5.6388, 17.4752) ccw
  line L59 (4.064, 17.4752) -> (4.064, 16.5608)
  arc A57 (4.064, 16.5608) -> (5.6388, 14.986) centre (5.6388, 16.5608) ccw
  line L60 (5.6388, 14.986) -> (6.8141, 14.986)
extrude "Extrusion1" add sketch "Sketch1" against normal blind 304.8
properties part number "1501"
